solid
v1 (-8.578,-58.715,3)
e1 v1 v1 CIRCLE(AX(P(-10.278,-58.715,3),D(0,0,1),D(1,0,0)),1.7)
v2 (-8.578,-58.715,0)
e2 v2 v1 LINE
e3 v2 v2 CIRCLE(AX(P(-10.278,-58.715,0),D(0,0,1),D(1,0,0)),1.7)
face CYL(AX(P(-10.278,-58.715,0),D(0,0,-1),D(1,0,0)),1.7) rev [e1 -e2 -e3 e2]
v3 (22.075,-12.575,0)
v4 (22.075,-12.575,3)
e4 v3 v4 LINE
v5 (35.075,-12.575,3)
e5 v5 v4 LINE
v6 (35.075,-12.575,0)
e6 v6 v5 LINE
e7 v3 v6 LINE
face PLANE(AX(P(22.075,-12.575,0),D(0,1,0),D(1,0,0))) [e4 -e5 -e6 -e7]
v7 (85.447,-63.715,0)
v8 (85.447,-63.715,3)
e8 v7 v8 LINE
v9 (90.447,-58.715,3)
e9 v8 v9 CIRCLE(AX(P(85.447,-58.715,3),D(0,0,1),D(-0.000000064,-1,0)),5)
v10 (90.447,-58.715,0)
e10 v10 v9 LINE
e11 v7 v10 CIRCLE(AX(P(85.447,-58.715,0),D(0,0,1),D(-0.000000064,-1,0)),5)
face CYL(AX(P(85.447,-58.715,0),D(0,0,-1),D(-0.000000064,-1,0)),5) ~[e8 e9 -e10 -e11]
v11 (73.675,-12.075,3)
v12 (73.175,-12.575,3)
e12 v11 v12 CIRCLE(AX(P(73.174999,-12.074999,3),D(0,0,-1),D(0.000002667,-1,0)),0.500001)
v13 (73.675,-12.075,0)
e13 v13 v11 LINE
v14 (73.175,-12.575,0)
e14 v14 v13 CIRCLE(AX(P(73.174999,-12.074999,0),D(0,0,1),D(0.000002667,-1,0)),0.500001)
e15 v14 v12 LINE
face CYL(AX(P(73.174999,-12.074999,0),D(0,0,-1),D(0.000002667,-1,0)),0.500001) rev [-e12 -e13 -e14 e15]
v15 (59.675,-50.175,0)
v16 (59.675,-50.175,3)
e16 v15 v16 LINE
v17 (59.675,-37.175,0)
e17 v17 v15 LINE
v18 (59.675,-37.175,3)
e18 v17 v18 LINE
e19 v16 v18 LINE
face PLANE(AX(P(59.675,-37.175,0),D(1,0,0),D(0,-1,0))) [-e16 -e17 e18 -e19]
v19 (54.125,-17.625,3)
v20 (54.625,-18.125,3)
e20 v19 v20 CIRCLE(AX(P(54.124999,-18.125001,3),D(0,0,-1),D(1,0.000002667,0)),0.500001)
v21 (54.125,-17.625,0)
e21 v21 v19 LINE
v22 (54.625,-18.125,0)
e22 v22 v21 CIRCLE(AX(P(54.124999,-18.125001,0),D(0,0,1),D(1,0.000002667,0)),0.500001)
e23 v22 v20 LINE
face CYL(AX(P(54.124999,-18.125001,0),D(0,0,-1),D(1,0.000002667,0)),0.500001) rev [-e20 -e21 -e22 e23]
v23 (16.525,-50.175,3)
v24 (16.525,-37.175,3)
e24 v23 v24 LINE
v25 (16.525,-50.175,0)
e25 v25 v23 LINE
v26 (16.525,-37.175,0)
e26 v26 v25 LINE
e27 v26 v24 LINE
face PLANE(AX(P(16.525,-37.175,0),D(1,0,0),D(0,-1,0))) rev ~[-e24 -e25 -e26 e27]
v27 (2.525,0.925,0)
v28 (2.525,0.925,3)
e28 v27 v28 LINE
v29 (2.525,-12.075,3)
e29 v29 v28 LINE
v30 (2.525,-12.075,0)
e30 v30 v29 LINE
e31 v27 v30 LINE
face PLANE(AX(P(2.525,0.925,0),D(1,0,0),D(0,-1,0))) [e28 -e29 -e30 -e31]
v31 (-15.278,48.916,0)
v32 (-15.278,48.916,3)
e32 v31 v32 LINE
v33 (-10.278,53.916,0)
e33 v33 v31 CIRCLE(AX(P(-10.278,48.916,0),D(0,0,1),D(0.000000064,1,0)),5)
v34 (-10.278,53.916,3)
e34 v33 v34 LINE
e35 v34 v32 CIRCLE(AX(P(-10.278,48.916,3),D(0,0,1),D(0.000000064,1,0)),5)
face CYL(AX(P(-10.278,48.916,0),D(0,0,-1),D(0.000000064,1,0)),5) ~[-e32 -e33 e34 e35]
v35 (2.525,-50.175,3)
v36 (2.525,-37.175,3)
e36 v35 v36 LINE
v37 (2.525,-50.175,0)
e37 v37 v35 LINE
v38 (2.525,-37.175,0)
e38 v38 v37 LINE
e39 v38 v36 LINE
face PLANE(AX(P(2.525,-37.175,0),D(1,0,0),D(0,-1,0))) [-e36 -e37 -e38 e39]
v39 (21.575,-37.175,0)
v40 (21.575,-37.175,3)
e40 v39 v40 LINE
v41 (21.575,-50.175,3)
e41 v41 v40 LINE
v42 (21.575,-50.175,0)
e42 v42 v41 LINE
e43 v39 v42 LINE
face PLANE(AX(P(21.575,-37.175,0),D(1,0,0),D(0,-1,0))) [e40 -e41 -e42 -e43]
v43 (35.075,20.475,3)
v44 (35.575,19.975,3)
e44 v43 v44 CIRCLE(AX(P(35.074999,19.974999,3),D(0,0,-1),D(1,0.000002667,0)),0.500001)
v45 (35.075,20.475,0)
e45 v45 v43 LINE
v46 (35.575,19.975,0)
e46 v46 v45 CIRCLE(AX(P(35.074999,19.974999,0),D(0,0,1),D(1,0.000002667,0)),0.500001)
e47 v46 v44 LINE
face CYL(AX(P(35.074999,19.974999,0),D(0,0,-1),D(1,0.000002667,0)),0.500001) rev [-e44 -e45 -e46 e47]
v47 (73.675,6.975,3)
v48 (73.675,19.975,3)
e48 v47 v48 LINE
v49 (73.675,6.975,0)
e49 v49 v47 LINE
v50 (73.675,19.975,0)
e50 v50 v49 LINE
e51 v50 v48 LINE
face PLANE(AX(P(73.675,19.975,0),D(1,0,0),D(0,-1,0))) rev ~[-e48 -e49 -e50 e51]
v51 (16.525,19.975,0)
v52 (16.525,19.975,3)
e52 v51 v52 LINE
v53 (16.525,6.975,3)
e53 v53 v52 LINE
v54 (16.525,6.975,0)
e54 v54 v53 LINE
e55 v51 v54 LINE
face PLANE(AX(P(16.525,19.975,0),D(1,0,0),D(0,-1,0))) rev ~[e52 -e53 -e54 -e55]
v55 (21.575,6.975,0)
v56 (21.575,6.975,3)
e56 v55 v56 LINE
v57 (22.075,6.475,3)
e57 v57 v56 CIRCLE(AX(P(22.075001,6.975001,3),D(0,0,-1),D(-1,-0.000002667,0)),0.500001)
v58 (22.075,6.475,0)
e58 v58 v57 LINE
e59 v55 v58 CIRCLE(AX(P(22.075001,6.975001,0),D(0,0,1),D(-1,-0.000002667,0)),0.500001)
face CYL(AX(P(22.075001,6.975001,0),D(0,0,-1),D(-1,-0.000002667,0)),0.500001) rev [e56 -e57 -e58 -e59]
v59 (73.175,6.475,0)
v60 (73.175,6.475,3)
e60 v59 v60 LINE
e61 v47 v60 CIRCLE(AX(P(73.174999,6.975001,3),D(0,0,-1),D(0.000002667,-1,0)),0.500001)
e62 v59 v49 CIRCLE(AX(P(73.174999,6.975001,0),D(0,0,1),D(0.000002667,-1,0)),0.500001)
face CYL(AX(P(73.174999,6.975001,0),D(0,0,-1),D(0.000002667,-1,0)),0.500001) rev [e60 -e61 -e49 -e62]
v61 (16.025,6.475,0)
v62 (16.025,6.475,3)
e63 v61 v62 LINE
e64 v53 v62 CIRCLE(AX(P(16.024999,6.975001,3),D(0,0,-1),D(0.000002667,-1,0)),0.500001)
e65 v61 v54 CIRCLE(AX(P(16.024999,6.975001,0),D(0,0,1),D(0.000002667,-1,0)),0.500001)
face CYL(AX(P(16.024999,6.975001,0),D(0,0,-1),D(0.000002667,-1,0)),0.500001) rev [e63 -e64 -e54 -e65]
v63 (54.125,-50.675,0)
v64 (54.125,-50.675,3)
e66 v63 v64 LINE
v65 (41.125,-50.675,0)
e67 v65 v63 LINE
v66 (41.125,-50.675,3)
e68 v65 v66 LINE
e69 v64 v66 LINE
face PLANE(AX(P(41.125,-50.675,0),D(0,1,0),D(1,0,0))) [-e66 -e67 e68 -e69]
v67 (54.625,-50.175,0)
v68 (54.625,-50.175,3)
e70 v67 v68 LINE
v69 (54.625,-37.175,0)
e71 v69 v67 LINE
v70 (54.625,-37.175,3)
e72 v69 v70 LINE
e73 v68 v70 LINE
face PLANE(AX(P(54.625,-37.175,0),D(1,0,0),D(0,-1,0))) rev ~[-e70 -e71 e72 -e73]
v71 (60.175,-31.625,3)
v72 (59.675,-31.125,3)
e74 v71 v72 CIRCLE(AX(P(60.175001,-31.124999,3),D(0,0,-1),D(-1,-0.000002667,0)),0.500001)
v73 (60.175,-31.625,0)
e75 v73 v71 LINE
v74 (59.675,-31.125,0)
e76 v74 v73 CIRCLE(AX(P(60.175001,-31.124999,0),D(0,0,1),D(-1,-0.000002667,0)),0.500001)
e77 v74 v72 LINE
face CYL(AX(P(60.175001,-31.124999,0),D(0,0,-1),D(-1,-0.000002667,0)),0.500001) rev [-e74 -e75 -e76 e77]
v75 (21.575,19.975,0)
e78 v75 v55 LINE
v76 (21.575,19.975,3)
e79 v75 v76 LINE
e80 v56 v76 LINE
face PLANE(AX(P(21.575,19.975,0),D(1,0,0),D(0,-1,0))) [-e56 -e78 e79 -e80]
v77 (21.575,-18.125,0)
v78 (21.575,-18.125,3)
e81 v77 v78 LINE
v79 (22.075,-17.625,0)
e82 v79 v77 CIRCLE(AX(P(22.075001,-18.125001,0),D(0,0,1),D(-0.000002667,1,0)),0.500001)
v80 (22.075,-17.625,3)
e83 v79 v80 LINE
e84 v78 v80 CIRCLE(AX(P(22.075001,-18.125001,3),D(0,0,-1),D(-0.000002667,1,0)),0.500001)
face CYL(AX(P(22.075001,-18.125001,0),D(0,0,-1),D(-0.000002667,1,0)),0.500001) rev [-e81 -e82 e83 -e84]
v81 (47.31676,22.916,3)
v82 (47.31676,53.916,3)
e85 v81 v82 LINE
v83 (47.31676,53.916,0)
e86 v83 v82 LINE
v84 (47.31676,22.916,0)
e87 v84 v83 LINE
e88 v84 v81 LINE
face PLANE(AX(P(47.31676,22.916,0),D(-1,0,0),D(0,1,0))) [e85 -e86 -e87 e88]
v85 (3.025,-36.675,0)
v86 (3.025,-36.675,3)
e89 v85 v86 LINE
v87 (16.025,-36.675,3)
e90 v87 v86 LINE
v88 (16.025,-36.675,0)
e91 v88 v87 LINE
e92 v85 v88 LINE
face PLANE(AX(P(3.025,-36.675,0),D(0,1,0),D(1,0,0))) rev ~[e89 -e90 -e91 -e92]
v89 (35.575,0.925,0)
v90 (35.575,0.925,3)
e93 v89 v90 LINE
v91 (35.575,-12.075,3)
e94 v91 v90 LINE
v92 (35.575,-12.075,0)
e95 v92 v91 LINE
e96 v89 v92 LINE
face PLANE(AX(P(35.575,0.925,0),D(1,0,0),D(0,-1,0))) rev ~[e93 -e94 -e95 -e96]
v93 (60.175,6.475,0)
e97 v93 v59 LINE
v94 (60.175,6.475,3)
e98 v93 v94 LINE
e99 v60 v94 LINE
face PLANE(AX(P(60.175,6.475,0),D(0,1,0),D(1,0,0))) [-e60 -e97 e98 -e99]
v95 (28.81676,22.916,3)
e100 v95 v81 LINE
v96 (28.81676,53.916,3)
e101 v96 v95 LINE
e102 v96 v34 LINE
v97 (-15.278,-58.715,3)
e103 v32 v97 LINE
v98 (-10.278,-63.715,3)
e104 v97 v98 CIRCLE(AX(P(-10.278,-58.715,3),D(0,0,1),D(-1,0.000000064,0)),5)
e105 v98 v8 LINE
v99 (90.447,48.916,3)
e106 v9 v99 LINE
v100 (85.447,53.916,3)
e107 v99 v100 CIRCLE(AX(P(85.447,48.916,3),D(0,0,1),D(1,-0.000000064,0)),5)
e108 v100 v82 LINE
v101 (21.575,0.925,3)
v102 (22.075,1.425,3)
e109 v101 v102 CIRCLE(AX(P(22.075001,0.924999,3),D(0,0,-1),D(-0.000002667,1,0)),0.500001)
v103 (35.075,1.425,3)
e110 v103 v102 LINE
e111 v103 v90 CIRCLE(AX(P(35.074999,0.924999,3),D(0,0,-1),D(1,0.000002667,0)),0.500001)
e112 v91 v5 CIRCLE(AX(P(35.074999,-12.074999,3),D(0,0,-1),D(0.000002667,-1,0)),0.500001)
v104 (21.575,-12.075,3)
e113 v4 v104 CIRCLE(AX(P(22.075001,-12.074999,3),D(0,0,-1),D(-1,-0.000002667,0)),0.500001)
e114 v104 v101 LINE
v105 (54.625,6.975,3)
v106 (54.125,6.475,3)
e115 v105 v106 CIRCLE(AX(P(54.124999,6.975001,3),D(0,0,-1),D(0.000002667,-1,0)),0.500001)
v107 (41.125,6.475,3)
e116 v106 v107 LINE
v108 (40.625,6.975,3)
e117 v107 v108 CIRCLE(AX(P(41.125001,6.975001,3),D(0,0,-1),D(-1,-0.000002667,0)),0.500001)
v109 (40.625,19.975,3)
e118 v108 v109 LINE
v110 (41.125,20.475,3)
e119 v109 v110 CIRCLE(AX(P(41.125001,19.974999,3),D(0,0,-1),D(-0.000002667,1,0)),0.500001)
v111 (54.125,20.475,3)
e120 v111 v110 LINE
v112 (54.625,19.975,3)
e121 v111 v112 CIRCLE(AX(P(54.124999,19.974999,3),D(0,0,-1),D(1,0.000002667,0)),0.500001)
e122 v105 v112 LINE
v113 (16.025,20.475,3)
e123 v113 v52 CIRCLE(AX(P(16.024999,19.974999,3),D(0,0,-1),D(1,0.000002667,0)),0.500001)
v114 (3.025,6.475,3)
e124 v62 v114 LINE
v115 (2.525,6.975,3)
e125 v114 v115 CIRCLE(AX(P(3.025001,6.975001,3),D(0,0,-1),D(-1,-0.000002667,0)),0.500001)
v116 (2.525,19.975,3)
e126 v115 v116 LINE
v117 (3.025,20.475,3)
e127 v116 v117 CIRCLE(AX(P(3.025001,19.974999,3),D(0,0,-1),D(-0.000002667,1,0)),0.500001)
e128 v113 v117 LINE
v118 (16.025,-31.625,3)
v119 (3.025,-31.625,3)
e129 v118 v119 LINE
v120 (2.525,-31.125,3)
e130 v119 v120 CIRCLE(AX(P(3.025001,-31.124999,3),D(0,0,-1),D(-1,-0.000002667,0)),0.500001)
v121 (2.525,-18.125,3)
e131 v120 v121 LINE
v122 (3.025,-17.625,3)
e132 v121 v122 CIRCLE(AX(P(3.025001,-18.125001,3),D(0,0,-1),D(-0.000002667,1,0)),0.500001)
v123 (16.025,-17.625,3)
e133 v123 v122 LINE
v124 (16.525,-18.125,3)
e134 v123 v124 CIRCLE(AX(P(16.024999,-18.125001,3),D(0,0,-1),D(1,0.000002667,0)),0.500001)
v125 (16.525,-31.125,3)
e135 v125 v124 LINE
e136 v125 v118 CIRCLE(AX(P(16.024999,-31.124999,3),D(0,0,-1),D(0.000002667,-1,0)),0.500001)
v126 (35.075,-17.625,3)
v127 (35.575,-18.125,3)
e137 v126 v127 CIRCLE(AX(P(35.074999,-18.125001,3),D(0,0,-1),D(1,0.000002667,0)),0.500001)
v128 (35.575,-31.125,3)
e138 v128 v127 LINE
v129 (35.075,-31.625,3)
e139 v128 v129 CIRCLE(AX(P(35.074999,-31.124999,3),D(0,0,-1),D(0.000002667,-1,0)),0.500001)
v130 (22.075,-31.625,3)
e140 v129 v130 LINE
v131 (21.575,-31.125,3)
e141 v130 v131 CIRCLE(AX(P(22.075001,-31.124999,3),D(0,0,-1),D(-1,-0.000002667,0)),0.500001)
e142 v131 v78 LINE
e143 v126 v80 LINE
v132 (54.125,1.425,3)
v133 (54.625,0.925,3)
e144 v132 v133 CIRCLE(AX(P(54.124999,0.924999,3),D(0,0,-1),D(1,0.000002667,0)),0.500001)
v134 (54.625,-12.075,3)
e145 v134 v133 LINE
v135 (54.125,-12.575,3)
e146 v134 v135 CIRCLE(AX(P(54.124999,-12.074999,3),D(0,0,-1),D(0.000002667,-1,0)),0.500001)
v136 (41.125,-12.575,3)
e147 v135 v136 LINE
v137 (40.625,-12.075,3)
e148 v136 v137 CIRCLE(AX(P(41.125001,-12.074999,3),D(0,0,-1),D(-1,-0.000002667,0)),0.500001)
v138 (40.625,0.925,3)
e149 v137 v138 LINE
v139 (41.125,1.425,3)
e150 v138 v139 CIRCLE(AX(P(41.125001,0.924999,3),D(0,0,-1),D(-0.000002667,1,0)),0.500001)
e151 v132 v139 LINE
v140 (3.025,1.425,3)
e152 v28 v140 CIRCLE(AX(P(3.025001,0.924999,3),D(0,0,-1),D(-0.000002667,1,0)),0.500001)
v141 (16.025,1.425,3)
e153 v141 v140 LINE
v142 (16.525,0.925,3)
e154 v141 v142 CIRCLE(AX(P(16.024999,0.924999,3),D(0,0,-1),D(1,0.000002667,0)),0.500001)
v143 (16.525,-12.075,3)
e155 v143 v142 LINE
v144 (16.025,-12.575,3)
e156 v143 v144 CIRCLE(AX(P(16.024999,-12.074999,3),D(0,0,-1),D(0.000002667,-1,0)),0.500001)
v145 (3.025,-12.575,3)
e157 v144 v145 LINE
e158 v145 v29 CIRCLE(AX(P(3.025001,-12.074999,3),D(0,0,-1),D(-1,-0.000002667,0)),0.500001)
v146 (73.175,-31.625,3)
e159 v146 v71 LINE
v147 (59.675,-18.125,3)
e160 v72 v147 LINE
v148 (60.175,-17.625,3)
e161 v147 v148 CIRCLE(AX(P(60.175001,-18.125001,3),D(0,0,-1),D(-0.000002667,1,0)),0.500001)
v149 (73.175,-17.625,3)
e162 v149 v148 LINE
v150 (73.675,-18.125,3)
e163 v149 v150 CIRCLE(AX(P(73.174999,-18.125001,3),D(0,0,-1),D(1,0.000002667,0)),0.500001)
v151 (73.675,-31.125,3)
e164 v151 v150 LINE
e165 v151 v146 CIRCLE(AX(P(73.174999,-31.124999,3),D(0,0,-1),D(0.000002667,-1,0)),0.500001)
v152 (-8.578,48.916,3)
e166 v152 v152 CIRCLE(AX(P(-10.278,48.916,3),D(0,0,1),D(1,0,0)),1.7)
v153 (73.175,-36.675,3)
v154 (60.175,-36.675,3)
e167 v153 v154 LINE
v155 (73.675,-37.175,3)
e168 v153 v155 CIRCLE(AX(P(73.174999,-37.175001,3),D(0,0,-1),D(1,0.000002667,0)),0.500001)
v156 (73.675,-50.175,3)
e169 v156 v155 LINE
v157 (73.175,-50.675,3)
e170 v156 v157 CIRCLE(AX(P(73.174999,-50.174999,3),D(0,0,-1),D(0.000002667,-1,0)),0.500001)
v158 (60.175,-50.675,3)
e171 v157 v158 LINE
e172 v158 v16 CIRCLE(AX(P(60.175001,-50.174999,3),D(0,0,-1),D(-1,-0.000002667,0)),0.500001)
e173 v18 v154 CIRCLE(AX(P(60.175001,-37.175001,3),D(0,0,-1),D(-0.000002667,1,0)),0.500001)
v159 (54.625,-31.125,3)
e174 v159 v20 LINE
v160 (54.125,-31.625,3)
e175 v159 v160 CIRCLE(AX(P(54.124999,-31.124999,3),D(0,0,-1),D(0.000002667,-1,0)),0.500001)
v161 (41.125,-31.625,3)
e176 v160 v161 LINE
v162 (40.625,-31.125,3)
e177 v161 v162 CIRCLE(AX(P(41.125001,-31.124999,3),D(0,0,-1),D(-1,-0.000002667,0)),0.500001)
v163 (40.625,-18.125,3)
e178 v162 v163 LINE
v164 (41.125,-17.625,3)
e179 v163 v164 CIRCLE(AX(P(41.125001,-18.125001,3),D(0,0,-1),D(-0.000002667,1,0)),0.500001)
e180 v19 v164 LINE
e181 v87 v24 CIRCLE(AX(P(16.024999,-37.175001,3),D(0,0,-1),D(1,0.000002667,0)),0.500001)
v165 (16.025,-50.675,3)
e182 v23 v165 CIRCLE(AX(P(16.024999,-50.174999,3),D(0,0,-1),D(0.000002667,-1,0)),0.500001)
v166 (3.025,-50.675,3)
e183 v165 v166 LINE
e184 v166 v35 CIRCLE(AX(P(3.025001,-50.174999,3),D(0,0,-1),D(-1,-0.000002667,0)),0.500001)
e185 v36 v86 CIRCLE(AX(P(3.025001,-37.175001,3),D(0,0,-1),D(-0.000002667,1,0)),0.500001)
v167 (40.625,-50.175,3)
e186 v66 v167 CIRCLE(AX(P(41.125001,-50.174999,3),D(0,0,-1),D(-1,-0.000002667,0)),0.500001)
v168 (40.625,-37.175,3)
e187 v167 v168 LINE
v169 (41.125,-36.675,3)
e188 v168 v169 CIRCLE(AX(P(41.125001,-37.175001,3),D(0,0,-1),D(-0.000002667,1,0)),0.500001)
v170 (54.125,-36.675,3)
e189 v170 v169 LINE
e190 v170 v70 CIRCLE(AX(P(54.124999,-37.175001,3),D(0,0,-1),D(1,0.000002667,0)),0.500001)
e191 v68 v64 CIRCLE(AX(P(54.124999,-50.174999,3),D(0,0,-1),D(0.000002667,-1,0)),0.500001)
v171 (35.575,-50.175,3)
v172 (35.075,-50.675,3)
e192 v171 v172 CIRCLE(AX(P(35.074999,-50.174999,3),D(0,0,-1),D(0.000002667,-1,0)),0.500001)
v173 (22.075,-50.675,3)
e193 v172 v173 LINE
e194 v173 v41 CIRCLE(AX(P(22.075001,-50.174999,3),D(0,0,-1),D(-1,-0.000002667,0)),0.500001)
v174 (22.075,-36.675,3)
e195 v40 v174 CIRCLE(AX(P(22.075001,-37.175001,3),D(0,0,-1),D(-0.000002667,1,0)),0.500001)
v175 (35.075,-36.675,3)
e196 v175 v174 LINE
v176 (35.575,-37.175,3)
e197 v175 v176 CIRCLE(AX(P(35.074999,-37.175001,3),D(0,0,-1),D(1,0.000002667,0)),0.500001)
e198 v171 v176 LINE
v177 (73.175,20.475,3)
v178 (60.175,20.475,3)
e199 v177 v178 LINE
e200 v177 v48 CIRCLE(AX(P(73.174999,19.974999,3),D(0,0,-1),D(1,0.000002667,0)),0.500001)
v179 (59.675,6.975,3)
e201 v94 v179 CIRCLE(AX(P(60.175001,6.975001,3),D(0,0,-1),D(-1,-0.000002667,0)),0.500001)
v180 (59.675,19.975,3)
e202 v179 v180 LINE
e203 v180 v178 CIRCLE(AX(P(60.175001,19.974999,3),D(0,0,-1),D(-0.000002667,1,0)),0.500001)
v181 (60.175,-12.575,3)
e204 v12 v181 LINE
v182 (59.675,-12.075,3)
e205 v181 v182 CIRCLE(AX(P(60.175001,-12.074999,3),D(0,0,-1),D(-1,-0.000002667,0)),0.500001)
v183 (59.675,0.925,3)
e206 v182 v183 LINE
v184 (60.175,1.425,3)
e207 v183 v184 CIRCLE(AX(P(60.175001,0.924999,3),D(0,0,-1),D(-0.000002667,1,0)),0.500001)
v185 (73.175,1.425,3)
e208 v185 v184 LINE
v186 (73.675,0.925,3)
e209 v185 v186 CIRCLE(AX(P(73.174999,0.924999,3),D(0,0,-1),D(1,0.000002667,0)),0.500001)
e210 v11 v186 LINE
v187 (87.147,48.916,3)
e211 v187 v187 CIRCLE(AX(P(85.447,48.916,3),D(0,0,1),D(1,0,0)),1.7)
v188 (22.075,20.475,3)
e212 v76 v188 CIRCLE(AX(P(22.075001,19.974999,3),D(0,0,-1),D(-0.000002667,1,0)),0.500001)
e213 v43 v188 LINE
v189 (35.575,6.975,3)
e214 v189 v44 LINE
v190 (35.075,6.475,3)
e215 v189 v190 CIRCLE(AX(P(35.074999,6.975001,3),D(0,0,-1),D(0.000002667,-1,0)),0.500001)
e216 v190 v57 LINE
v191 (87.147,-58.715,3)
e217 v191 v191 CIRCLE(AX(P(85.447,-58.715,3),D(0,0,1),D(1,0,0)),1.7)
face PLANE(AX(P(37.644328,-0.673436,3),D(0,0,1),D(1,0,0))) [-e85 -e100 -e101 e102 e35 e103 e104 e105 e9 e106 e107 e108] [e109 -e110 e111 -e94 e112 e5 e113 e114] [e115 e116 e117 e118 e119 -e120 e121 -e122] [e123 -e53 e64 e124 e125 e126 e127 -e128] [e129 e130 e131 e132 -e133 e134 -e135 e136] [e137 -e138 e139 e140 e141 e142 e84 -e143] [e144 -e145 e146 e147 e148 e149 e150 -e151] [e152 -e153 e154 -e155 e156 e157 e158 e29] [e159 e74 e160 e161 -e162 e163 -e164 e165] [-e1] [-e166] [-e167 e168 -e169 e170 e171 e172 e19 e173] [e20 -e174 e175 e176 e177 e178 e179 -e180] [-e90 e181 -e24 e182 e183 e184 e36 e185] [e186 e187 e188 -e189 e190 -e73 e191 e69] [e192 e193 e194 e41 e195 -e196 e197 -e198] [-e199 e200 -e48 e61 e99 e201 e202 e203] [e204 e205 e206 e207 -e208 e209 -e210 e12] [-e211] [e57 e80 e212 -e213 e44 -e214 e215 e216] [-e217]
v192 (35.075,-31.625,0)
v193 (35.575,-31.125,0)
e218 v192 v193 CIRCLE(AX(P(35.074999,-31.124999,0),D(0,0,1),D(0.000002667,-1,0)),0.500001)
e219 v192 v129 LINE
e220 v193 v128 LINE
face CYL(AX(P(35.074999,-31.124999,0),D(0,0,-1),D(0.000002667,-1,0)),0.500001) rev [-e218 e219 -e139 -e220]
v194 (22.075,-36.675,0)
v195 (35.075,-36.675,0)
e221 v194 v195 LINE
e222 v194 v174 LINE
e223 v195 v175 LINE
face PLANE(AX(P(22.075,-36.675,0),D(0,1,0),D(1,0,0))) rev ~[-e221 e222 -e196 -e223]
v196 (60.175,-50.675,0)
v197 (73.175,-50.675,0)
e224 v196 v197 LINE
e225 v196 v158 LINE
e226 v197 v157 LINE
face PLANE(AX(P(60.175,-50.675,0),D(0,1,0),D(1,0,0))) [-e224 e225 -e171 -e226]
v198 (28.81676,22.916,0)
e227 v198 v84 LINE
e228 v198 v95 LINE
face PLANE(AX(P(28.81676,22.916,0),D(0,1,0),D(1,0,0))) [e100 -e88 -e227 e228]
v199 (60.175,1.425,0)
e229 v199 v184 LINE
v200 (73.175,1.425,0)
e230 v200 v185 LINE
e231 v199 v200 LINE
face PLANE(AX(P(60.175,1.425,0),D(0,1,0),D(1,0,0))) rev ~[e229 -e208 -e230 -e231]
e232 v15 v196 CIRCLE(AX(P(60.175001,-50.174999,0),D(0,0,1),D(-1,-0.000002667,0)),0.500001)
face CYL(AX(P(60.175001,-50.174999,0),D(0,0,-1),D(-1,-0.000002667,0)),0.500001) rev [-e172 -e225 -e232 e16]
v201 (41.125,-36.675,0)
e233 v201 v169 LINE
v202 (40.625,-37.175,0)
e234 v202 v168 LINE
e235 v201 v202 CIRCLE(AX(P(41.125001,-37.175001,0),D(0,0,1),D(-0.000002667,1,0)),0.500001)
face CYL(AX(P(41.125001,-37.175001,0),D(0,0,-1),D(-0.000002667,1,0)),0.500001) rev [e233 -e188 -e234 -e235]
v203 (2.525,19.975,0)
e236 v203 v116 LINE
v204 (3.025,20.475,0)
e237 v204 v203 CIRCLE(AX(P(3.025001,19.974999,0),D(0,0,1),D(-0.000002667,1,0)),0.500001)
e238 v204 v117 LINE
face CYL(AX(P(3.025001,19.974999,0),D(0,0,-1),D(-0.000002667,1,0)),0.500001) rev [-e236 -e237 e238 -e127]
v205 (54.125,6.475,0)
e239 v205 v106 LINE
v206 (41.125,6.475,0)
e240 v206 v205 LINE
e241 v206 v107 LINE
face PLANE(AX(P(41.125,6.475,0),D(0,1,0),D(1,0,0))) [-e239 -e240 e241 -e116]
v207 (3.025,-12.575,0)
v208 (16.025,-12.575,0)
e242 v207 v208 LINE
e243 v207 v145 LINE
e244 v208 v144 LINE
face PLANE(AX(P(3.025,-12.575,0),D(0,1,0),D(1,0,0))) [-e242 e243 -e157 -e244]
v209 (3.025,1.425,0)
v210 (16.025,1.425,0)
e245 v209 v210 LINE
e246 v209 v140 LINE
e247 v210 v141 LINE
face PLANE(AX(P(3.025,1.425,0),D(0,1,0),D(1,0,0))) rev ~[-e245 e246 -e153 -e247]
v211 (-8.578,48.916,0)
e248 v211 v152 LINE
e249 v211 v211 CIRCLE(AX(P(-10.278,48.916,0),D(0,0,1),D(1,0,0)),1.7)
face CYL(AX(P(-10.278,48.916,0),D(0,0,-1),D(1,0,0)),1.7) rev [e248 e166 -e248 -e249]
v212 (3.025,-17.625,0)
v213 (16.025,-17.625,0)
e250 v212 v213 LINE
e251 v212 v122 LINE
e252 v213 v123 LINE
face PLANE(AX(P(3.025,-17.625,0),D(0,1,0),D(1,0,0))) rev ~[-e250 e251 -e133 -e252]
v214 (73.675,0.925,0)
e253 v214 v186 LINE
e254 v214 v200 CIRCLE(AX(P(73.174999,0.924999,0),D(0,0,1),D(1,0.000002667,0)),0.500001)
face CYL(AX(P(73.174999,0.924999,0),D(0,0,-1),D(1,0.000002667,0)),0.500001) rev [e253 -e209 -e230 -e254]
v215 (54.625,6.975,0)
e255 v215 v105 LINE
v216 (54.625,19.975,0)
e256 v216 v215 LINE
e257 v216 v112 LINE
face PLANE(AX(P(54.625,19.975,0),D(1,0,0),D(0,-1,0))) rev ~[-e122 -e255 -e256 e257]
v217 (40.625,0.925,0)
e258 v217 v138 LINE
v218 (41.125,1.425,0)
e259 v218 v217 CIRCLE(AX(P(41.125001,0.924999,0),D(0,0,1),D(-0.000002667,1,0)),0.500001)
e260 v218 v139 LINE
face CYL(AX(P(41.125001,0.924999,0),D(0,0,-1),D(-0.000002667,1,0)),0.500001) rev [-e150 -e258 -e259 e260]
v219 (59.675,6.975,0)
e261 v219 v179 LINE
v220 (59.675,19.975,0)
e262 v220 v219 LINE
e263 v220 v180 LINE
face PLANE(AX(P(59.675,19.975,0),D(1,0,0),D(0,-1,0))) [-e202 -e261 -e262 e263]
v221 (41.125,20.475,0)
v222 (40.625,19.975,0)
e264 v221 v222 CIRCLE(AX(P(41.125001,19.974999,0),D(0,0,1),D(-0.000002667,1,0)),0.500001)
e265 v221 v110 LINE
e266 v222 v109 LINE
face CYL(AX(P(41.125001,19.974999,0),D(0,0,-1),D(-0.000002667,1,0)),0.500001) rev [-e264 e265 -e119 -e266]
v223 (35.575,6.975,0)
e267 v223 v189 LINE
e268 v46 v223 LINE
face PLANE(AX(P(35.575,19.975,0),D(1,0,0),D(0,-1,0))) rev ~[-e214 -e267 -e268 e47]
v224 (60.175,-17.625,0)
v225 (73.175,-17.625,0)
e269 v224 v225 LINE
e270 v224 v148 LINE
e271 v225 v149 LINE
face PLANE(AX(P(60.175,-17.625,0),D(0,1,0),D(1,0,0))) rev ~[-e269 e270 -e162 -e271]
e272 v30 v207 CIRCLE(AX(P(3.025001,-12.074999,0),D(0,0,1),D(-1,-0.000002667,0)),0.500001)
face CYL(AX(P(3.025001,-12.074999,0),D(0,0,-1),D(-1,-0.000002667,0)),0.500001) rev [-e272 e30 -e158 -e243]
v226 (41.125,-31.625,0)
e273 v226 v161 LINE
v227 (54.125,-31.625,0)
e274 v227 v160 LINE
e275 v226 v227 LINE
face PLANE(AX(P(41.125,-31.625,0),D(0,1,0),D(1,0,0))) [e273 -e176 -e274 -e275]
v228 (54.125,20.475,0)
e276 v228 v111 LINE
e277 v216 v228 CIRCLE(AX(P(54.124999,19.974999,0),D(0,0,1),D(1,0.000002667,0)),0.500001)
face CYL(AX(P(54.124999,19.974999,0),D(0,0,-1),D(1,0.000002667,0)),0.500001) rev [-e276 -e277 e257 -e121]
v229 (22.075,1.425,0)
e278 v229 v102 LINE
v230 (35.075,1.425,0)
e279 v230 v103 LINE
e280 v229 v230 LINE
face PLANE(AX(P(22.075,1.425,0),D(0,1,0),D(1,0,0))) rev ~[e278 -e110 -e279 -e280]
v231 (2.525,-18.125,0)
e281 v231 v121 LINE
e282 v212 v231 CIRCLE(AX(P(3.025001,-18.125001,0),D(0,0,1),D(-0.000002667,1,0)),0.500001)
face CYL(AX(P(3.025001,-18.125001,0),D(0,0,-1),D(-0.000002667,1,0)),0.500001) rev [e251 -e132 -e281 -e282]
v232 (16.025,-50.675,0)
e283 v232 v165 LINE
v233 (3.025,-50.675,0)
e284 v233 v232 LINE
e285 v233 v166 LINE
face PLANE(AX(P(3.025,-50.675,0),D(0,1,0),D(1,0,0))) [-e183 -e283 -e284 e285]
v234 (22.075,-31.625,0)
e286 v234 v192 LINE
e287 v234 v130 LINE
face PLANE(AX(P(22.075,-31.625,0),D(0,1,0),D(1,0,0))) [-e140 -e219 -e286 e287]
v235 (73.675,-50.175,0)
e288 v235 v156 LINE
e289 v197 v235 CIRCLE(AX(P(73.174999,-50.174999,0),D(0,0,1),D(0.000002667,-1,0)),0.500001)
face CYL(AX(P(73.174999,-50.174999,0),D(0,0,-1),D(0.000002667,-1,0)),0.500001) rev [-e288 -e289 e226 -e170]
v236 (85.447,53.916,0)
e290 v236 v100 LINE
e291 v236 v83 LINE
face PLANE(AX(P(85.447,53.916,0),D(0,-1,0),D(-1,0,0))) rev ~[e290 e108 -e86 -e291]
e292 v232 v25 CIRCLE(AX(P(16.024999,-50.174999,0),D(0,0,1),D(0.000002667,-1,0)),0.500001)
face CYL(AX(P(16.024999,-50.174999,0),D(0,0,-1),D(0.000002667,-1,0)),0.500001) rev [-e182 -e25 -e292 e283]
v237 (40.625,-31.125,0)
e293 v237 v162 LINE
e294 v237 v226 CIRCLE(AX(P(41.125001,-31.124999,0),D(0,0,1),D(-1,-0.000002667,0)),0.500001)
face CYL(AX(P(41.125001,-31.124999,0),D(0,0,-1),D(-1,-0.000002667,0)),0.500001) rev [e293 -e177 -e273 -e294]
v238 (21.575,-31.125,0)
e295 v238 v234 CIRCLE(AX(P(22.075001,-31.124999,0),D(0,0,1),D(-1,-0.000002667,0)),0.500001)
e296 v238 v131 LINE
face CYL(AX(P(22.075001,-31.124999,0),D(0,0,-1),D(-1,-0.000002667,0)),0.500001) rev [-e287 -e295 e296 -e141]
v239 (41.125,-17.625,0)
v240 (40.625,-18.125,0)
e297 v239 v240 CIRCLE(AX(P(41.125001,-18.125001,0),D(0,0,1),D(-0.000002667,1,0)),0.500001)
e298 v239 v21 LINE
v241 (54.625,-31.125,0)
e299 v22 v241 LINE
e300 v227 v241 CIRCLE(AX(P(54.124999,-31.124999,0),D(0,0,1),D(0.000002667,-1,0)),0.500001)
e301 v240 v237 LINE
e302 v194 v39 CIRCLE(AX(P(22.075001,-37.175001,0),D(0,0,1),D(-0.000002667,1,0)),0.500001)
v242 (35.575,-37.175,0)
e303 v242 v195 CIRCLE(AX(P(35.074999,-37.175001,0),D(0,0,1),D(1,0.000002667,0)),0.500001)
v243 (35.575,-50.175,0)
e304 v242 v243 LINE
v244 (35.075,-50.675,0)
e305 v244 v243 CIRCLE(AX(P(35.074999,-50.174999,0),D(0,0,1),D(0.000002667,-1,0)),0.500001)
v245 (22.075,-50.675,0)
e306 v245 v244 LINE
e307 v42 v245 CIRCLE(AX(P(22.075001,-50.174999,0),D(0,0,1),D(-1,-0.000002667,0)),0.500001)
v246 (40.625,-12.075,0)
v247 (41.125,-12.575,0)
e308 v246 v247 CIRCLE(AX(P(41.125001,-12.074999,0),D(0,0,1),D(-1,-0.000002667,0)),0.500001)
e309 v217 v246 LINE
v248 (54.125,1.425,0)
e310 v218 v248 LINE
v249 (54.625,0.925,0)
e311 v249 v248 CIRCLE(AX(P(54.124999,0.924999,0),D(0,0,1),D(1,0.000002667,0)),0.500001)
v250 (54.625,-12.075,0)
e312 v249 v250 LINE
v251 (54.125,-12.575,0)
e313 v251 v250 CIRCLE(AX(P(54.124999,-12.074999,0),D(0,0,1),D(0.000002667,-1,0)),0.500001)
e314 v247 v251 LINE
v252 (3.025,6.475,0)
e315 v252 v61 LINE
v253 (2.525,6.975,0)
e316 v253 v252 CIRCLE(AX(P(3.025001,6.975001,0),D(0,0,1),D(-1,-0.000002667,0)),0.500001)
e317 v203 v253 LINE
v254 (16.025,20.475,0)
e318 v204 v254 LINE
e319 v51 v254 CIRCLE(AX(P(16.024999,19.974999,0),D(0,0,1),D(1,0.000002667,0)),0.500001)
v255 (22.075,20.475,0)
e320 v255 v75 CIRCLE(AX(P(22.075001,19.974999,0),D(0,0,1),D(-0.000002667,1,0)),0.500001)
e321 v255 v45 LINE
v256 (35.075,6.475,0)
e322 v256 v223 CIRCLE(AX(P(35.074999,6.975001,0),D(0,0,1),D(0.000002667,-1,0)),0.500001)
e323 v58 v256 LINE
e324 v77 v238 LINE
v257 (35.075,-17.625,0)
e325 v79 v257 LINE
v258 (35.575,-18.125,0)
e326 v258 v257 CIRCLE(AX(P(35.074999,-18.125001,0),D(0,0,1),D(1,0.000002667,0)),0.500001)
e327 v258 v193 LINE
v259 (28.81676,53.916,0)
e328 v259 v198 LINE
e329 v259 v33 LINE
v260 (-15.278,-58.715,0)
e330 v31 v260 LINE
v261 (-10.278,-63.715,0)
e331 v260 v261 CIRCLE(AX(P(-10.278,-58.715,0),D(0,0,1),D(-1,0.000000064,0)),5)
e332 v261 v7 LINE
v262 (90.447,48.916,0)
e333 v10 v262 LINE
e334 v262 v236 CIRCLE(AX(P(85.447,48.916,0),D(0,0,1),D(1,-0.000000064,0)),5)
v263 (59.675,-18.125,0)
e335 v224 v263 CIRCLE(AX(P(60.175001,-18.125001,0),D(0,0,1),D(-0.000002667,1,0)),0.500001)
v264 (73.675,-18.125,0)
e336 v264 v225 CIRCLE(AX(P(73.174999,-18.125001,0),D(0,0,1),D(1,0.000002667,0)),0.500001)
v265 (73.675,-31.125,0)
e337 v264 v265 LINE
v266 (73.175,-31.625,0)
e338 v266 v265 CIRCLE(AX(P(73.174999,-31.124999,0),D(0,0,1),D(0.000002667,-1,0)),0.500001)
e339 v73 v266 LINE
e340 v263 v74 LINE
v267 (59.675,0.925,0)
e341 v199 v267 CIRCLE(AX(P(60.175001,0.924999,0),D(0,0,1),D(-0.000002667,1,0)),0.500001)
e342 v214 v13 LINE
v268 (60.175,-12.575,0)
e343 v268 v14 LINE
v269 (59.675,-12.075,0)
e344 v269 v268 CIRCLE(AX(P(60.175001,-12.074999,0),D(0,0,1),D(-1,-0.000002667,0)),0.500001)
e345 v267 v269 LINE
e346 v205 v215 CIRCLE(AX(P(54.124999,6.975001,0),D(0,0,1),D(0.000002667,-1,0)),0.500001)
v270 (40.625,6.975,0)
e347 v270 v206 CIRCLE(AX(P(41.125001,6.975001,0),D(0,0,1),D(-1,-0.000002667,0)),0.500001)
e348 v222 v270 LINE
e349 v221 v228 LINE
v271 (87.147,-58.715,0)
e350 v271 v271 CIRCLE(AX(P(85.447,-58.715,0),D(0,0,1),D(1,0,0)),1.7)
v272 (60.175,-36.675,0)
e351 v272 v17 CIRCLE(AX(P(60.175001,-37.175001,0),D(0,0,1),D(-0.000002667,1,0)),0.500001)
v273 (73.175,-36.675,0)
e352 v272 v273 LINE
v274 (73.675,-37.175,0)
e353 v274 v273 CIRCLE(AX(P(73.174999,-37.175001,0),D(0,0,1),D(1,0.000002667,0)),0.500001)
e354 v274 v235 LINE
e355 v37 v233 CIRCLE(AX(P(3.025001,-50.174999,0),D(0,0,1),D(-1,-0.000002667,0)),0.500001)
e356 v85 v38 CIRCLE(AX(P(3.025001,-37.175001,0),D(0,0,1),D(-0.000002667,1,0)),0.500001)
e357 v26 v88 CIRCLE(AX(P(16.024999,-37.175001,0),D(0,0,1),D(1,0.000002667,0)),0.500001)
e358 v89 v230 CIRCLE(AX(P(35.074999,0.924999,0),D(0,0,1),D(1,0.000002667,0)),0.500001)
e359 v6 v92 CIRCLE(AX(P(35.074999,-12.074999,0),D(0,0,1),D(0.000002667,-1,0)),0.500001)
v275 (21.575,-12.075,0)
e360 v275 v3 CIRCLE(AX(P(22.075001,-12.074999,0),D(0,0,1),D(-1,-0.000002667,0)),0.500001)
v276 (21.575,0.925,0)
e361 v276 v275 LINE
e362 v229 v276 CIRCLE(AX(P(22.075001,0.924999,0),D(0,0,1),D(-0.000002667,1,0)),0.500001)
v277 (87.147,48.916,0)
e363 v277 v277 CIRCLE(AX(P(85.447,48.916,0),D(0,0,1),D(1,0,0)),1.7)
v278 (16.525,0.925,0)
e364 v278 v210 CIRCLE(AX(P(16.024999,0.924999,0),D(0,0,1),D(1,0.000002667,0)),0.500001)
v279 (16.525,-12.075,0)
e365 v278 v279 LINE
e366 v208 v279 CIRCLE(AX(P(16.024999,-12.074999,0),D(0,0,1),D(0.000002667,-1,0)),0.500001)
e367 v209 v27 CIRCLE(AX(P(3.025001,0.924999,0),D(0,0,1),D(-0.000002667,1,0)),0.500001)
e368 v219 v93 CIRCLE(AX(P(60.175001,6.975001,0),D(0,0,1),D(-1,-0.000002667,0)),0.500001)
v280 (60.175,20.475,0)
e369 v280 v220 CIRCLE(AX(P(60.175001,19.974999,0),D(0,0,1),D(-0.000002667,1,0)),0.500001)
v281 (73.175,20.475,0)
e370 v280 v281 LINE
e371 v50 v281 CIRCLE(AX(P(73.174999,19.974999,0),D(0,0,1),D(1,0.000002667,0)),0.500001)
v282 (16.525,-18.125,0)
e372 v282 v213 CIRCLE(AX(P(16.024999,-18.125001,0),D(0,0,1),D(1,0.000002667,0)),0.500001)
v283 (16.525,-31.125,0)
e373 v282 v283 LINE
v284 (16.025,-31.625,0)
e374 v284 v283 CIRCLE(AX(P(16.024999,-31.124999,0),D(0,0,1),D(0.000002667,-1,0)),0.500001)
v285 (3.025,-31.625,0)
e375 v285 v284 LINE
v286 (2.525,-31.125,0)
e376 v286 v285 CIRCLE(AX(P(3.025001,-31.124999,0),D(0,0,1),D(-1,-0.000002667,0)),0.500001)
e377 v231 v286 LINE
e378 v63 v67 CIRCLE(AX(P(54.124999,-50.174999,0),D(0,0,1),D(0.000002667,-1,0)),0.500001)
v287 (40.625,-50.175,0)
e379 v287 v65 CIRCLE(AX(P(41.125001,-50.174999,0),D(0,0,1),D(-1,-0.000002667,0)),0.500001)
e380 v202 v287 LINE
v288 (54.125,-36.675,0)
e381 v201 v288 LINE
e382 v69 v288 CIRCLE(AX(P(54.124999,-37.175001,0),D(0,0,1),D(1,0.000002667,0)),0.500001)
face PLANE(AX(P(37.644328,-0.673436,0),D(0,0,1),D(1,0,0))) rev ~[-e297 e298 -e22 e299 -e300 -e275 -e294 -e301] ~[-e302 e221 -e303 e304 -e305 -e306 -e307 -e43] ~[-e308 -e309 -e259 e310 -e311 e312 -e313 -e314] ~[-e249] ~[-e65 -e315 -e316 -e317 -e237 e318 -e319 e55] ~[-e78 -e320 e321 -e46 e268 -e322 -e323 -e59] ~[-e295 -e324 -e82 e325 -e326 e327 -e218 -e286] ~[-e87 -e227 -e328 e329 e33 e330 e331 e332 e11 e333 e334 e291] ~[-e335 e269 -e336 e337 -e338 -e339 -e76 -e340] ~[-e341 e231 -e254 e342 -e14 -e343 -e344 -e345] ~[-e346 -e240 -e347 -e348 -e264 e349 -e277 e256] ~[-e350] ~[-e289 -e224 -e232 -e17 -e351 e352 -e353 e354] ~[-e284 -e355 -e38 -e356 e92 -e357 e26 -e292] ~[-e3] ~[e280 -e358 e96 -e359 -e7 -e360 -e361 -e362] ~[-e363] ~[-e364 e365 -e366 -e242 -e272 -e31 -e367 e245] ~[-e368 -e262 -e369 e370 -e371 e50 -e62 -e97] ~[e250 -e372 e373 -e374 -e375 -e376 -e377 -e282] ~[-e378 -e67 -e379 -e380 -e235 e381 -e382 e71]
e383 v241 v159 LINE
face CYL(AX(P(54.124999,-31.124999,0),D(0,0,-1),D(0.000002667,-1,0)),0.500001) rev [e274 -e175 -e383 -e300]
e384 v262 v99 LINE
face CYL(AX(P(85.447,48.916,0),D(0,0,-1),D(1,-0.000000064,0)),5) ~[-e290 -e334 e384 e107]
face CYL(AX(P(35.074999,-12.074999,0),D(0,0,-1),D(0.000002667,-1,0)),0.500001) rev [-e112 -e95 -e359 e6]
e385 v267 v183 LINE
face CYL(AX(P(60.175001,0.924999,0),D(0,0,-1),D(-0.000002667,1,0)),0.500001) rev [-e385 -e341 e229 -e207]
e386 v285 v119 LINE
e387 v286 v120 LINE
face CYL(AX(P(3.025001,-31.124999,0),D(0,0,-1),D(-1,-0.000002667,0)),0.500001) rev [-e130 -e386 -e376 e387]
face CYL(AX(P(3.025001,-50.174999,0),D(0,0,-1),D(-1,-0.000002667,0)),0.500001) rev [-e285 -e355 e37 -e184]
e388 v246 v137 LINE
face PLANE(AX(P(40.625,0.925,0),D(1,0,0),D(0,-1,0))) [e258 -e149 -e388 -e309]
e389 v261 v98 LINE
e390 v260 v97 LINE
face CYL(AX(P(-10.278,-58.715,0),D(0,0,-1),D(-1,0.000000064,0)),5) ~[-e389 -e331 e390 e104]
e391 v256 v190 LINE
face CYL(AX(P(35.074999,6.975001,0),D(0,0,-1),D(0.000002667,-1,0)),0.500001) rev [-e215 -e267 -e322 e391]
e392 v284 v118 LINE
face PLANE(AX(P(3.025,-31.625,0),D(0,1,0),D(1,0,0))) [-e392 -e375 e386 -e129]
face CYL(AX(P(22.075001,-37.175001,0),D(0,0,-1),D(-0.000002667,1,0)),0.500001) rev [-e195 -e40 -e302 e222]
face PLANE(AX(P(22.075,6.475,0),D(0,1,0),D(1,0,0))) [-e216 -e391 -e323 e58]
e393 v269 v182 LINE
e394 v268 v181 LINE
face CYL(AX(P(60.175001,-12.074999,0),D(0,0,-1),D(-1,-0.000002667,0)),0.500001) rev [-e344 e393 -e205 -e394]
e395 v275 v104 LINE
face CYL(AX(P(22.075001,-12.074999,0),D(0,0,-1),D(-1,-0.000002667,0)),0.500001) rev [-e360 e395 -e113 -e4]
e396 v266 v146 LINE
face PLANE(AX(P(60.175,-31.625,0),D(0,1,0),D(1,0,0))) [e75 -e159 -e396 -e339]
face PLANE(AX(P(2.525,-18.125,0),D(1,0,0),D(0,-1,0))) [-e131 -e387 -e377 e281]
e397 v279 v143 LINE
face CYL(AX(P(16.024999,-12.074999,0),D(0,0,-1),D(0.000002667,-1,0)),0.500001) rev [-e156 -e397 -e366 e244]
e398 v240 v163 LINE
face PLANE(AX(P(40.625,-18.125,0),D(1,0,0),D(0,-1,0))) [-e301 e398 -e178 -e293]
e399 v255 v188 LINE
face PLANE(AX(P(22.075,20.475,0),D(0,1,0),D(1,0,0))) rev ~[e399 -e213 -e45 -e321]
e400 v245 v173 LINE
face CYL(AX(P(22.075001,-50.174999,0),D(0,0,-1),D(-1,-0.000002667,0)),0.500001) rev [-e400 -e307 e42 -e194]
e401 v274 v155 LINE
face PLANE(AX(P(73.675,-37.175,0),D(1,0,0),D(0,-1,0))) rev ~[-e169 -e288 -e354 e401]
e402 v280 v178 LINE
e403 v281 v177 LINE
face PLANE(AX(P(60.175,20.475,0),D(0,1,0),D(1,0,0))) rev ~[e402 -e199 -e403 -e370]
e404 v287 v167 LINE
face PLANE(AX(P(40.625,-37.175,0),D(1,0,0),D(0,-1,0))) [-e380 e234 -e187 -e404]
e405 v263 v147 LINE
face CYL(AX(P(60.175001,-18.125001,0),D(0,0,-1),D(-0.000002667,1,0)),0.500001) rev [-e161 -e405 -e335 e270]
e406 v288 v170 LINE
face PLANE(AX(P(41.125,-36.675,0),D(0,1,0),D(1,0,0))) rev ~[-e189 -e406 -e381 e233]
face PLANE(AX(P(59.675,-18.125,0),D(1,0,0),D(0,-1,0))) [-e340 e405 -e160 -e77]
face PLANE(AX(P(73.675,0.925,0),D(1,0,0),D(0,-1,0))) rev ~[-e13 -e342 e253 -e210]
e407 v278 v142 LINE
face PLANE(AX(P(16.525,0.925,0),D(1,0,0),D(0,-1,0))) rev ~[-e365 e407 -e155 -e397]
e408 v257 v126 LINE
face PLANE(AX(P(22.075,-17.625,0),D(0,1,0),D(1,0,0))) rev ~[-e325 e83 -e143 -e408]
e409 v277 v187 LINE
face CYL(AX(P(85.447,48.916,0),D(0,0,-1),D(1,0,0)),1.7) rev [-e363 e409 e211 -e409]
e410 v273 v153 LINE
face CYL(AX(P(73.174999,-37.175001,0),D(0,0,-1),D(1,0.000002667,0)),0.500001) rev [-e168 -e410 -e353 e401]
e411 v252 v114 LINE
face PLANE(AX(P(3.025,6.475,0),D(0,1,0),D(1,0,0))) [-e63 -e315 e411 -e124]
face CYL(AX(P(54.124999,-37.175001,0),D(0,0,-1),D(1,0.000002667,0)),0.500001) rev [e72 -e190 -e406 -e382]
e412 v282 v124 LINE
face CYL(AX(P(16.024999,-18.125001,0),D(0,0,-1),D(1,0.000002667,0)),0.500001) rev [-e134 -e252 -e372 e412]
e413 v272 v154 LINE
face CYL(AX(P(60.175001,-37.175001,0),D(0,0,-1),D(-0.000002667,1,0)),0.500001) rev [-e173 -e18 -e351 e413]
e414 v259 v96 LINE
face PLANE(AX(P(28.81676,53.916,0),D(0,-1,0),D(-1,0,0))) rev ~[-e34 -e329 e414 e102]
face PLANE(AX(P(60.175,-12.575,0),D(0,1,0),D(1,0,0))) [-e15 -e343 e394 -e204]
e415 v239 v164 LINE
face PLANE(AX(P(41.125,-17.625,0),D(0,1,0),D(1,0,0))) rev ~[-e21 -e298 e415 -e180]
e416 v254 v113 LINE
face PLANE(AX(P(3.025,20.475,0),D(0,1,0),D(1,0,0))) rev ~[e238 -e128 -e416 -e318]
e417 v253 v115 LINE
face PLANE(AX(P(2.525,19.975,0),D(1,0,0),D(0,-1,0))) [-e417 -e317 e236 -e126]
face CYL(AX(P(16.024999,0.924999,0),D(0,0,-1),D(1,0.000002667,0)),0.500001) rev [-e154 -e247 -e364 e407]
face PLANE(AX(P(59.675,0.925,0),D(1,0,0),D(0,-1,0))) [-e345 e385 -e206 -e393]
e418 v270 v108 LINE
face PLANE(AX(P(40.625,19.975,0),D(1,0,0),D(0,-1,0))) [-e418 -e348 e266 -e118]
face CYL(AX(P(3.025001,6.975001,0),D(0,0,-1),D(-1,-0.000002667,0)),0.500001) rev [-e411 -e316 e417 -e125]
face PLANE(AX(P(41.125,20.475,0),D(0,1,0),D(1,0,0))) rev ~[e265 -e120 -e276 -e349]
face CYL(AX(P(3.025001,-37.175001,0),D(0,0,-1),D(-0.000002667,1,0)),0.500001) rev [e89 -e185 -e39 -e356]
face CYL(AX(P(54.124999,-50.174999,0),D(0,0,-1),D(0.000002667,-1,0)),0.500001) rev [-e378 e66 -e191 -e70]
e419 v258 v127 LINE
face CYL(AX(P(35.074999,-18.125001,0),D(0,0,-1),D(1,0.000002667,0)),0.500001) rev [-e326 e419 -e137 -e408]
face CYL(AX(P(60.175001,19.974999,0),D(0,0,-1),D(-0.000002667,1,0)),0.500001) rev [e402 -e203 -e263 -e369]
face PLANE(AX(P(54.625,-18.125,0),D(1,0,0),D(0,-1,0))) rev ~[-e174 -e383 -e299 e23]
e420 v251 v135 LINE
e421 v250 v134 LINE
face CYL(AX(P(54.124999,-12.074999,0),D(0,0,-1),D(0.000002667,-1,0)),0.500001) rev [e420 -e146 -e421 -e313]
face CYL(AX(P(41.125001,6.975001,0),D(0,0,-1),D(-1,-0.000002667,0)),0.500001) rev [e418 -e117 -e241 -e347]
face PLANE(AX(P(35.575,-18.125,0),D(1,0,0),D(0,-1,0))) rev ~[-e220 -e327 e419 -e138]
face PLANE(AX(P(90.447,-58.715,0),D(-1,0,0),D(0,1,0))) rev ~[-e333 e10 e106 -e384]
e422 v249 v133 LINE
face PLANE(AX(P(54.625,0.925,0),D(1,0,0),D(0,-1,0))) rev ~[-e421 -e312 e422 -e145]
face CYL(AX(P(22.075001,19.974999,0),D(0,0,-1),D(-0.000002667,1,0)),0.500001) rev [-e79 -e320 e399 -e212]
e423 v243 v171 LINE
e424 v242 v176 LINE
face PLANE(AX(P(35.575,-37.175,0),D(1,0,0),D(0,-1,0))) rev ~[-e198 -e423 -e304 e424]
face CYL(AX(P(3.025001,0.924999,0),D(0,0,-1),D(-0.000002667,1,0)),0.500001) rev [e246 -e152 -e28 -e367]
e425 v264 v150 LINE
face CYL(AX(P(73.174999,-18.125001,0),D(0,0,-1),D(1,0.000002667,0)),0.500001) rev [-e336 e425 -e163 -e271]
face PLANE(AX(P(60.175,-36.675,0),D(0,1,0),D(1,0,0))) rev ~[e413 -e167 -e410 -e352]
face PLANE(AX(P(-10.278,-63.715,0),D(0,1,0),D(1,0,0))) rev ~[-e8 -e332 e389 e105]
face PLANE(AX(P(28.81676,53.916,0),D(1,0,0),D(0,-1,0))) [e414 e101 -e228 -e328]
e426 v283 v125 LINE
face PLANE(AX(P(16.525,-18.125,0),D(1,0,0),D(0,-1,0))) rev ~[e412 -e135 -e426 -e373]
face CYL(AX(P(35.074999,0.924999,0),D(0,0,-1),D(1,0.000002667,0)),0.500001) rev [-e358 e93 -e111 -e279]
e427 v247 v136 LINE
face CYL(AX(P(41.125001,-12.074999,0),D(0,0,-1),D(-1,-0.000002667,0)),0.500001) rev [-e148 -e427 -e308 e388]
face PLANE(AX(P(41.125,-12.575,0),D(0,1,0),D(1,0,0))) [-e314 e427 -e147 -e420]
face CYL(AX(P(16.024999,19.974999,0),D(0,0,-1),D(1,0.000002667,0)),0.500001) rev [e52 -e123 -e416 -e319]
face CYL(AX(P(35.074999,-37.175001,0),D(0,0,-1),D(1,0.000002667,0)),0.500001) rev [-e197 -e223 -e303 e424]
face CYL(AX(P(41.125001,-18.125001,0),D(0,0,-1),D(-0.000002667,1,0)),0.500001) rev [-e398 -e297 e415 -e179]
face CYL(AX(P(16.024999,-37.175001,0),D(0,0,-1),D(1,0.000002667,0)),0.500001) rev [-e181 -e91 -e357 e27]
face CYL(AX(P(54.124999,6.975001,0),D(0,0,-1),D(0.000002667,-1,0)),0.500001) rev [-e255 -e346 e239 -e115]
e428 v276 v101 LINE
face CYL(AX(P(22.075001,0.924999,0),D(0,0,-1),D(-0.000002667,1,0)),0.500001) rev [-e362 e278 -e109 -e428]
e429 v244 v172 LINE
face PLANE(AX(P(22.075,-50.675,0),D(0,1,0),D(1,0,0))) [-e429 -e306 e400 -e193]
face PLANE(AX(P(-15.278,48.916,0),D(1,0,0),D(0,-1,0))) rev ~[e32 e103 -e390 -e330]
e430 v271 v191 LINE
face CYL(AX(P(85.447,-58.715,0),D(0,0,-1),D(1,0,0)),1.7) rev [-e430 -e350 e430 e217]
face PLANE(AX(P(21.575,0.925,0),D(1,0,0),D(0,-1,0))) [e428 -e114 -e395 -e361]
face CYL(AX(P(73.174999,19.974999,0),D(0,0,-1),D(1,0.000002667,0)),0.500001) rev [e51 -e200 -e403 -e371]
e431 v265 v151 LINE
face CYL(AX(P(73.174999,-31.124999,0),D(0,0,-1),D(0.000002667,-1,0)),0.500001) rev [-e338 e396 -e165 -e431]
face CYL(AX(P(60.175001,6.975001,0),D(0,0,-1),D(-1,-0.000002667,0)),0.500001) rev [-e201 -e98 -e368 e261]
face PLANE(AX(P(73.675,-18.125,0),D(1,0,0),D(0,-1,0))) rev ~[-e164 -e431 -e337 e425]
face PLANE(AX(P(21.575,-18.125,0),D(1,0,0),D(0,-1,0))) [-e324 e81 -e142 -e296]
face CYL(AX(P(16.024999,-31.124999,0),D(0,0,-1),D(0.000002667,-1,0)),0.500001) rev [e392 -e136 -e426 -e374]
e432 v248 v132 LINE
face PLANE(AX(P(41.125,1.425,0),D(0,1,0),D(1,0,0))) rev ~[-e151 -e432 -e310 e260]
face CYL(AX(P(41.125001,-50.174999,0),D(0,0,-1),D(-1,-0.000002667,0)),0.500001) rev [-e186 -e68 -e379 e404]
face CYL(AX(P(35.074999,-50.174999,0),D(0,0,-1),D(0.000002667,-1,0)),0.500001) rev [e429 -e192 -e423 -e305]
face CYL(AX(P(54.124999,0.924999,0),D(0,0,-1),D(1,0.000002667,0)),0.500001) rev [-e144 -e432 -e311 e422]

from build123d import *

# Parameters (mm, degrees)
SKETCH_R     = 1.7
PAD_DEPTH    = 3
POCKET_DEPTH = 10


with BuildPart() as part:
    # Sketch → Pad (new body)
    with BuildSketch(Plane.XY):
        with BuildLine():
            Line((-15.278, 48.916), (-15.278, -58.715))
            ThreePointArc((-15.278, -58.715), (-13.813534, -62.250534), (-10.278, -63.715))
            Line((-10.278, -63.715), (85.447, -63.715))
            ThreePointArc((85.447, -63.715), (88.982534, -62.250534), (90.447, -58.715))
            Line((90.447, -58.715), (90.447, 48.916))
            ThreePointArc((90.447, 48.916), (88.982534, 52.451534), (85.447, 53.916))
            Line((85.447, 53.916), (47.31676, 53.916))
            Line((47.31676, 22.916), (47.31676, 53.916))
            Line((28.81676, 22.916), (47.31676, 22.916))
            Line((28.81676, 53.916), (28.81676, 22.916))
            Line((28.81676, 53.916), (-10.278, 53.916))
            ThreePointArc((-10.278, 53.916), (-13.813534, 52.451534), (-15.278, 48.916))
        make_face()
        with Locations((-10.278, -58.715)):
            Circle(SKETCH_R, mode=Mode.SUBTRACT)
        with Locations((-10.278, 48.916)):
            Circle(SKETCH_R, mode=Mode.SUBTRACT)
        with Locations((85.447, 48.916)):
            Circle(SKETCH_R, mode=Mode.SUBTRACT)
        with Locations((85.447, -58.715)):
            Circle(SKETCH_R, mode=Mode.SUBTRACT)
    extrude(amount=PAD_DEPTH)

    # Sketch001 → Pocket (cut)
    with BuildSketch(Plane(origin=(0, 23, 0), x_dir=(1, 0, 0), z_dir=(0, 0, 1))):
        with BuildLine():
            ThreePointArc((73.175, -73.675), (73.528553, -73.528553), (73.675, -73.175))
            Line((73.675, -60.175), (73.675, -73.175))
            ThreePointArc((73.675, -60.175), (73.528553, -59.821447), (73.175, -59.675))
            Line((60.175, -59.675), (73.175, -59.675))
            ThreePointArc((60.175, -59.675), (59.821447, -59.821447), (59.675, -60.175))
            Line((59.675, -60.175), (59.675, -73.175))
            ThreePointArc((59.675, -73.175), (59.821447, -73.528553), (60.175, -73.675))
            Line((60.175, -73.675), (73.175, -73.675))
        make_face()
        with BuildLine():
            Line((3.025, -2.525), (16.025, -2.525))
            ThreePointArc((16.525, -3.025), (16.378553, -2.671447), (16.025, -2.525))
            Line((16.525, -3.025), (16.525, -16.025))
            ThreePointArc((16.025, -16.525), (16.378553, -16.378553), (16.525, -16.025))
            Line((3.025, -16.525), (16.025, -16.525))
            ThreePointArc((2.525, -16.025), (2.671447, -16.378553), (3.025, -16.525))
            Line((2.525, -3.025), (2.525, -16.025))
            ThreePointArc((3.025, -2.525), (2.671447, -2.671447), (2.525, -3.025))
        make_face()
        with BuildLine():
            Line((22.075, -2.525), (35.075, -2.525))
            ThreePointArc((35.575, -3.025), (35.428553, -2.671447), (35.075, -2.525))
            Line((35.575, -3.025), (35.575, -16.025))
            ThreePointArc((35.075, -16.525), (35.428553, -16.378553), (35.575, -16.025))
            Line((22.075, -16.525), (35.075, -16.525))
            ThreePointArc((21.575, -16.025), (21.721447, -16.378553), (22.075, -16.525))
            Line((21.575, -3.025), (21.575, -16.025))
            ThreePointArc((22.075, -2.525), (21.721447, -2.671447), (21.575, -3.025))
        make_face()
        with BuildLine():
            Line((41.125, -2.525), (54.125, -2.525))
            ThreePointArc((54.625, -3.025), (54.478553, -2.671447), (54.125, -2.525))
            Line((54.625, -3.025), (54.625, -16.025))
            ThreePointArc((54.125, -16.525), (54.478553, -16.378553), (54.625, -16.025))
            Line((41.125, -16.525), (54.125, -16.525))
            ThreePointArc((40.625, -16.025), (40.771447, -16.378553), (41.125, -16.525))
            Line((40.625, -3.025), (40.625, -16.025))
            ThreePointArc((41.125, -2.525), (40.771447, -2.671447), (40.625, -3.025))
        make_face()
        with BuildLine():
            Line((60.175, -2.525), (73.175, -2.525))
            ThreePointArc((73.675, -3.025), (73.528553, -2.671447), (73.175, -2.525))
            Line((73.675, -3.025), (73.675, -16.025))
            ThreePointArc((73.175, -16.525), (73.528553, -16.378553), (73.675, -16.025))
            Line((60.175, -16.525), (73.175, -16.525))
            ThreePointArc((59.675, -16.025), (59.821447, -16.378553), (60.175, -16.525))
            Line((59.675, -3.025), (59.675, -16.025))
            ThreePointArc((60.175, -2.525), (59.821447, -2.671447), (59.675, -3.025))
        make_face()
        with BuildLine():
            Line((3.025, -21.575), (16.025, -21.575))
            ThreePointArc((16.525, -22.075), (16.378553, -21.721447), (16.025, -21.575))
            Line((16.525, -22.075), (16.525, -35.075))
            ThreePointArc((16.025, -35.575), (16.378553, -35.428553), (16.525, -35.075))
            Line((3.025, -35.575), (16.025, -35.575))
            ThreePointArc((2.525, -35.075), (2.671447, -35.428553), (3.025, -35.575))
            Line((2.525, -22.075), (2.525, -35.075))
            ThreePointArc((3.025, -21.575), (2.671447, -21.721447), (2.525, -22.075))
        make_face()
        with BuildLine():
            Line((22.075, -21.575), (35.075, -21.575))
            ThreePointArc((35.575, -22.075), (35.428553, -21.721447), (35.075, -21.575))
            Line((35.575, -22.075), (35.575, -35.075))
            ThreePointArc((35.075, -35.575), (35.428553, -35.428553), (35.575, -35.075))
            Line((22.075, -35.575), (35.075, -35.575))
            ThreePointArc((21.575, -35.075), (21.721447, -35.428553), (22.075, -35.575))
            Line((21.575, -22.075), (21.575, -35.075))
            ThreePointArc((22.075, -21.575), (21.721447, -21.721447), (21.575, -22.075))
        make_face()
        with BuildLine():
            Line((41.125, -21.575), (54.125, -21.575))
            ThreePointArc((54.625, -22.075), (54.478553, -21.721447), (54.125, -21.575))
            Line((54.625, -22.075), (54.625, -35.075))
            ThreePointArc((54.125, -35.575), (54.478553, -35.428553), (54.625, -35.075))
            Line((41.125, -35.575), (54.125, -35.575))
            ThreePointArc((40.625, -35.075), (40.771447, -35.428553), (41.125, -35.575))
            Line((40.625, -22.075), (40.625, -35.075))
            ThreePointArc((41.125, -21.575), (40.771447, -21.721447), (40.625, -22.075))
        make_face()
        with BuildLine():
            Line((60.175, -21.575), (73.175, -21.575))
            ThreePointArc((73.675, -22.075), (73.528553, -21.721447), (73.175, -21.575))
            Line((73.675, -22.075), (73.675, -35.075))
            ThreePointArc((73.175, -35.575), (73.528553, -35.428553), (73.675, -35.075))
            Line((60.175, -35.575), (73.175, -35.575))
            ThreePointArc((59.675, -35.075), (59.821447, -35.428553), (60.175, -35.575))
            Line((59.675, -22.075), (59.675, -35.075))
            ThreePointArc((60.175, -21.575), (59.821447, -21.721447), (59.675, -22.075))
        make_face()
        with BuildLine():
            Line((3.025, -40.625), (16.025, -40.625))
            ThreePointArc((16.525, -41.125), (16.378553, -40.771447), (16.025, -40.625))
            Line((16.525, -41.125), (16.525, -54.125))
            ThreePointArc((16.025, -54.625), (16.378553, -54.478553), (16.525, -54.125))
            Line((3.025, -54.625), (16.025, -54.625))
            ThreePointArc((2.525, -54.125), (2.671447, -54.478553), (3.025, -54.625))
            Line((2.525, -41.125), (2.525, -54.125))
            ThreePointArc((3.025, -40.625), (2.671447, -40.771447), (2.525, -41.125))
        make_face()
        with BuildLine():
            Line((22.075, -40.625), (35.075, -40.625))
            ThreePointArc((35.575, -41.125), (35.428553, -40.771447), (35.075, -40.625))
            Line((35.575, -41.125), (35.575, -54.125))
            ThreePointArc((35.075, -54.625), (35.428553, -54.478553), (35.575, -54.125))
            Line((22.075, -54.625), (35.075, -54.625))
            ThreePointArc((21.575, -54.125), (21.721447, -54.478553), (22.075, -54.625))
            Line((21.575, -41.125), (21.575, -54.125))
            ThreePointArc((22.075, -40.625), (21.721447, -40.771447), (21.575, -41.125))
        make_face()
        with BuildLine():
            Line((41.125, -40.625), (54.125, -40.625))
            ThreePointArc((54.625, -41.125), (54.478553, -40.771447), (54.125, -40.625))
            Line((54.625, -41.125), (54.625, -54.125))
            ThreePointArc((54.125, -54.625), (54.478553, -54.478553), (54.625, -54.125))
            Line((41.125, -54.625), (54.125, -54.625))
            ThreePointArc((40.625, -54.125), (40.771447, -54.478553), (41.125, -54.625))
            Line((40.625, -41.125), (40.625, -54.125))
            ThreePointArc((41.125, -40.625), (40.771447, -40.771447), (40.625, -41.125))
        make_face()
        with BuildLine():
            Line((60.175, -40.625), (73.175, -40.625))
            ThreePointArc((73.675, -41.125), (73.528553, -40.771447), (73.175, -40.625))
            Line((73.675, -41.125), (73.675, -54.125))
            ThreePointArc((73.175, -54.625), (73.528553, -54.478553), (73.675, -54.125))
            Line((60.175, -54.625), (73.175, -54.625))
            ThreePointArc((59.675, -54.125), (59.821447, -54.478553), (60.175, -54.625))
            Line((59.675, -41.125), (59.675, -54.125))
            ThreePointArc((60.175, -40.625), (59.821447, -40.771447), (59.675, -41.125))
        make_face()
        with BuildLine():
            Line((3.025, -59.675), (16.025, -59.675))
            ThreePointArc((16.525, -60.175), (16.378553, -59.821447), (16.025, -59.675))
            Line((16.525, -60.175), (16.525, -73.175))
            ThreePointArc((16.025, -73.675), (16.378553, -73.528553), (16.525, -73.175))
            Line((3.025, -73.675), (16.025, -73.675))
            ThreePointArc((2.525, -73.175), (2.671447, -73.528553), (3.025, -73.675))
            Line((2.525, -60.175), (2.525, -73.175))
            ThreePointArc((3.025, -59.675), (2.671447, -59.821447), (2.525, -60.175))
        make_face()
        with BuildLine():
            Line((22.075, -59.675), (35.075, -59.675))
            ThreePointArc((35.575, -60.175), (35.428553, -59.821447), (35.075, -59.675))
            Line((35.575, -60.175), (35.575, -73.175))
            ThreePointArc((35.075, -73.675), (35.428553, -73.528553), (35.575, -73.175))
            Line((22.075, -73.675), (35.075, -73.675))
            ThreePointArc((21.575, -73.175), (21.721447, -73.528553), (22.075, -73.675))
            Line((21.575, -60.175), (21.575, -73.175))
            ThreePointArc((22.075, -59.675), (21.721447, -59.821447), (21.575, -60.175))
        make_face()
        with BuildLine():
            Line((41.125, -59.675), (54.125, -59.675))
            ThreePointArc((54.625, -60.175), (54.478553, -59.821447), (54.125, -59.675))
            Line((54.625, -60.175), (54.625, -73.175))
            ThreePointArc((54.125, -73.675), (54.478553, -73.528553), (54.625, -73.175))
            Line((41.125, -73.675), (54.125, -73.675))
            ThreePointArc((40.625, -73.175), (40.771447, -73.528553), (41.125, -73.675))
            Line((40.625, -60.175), (40.625, -73.175))
            ThreePointArc((41.125, -59.675), (40.771447, -59.821447), (40.625, -60.175))
        make_face()
    extrude(amount=POCKET_DEPTH, mode=Mode.SUBTRACT)


solid = part.part
